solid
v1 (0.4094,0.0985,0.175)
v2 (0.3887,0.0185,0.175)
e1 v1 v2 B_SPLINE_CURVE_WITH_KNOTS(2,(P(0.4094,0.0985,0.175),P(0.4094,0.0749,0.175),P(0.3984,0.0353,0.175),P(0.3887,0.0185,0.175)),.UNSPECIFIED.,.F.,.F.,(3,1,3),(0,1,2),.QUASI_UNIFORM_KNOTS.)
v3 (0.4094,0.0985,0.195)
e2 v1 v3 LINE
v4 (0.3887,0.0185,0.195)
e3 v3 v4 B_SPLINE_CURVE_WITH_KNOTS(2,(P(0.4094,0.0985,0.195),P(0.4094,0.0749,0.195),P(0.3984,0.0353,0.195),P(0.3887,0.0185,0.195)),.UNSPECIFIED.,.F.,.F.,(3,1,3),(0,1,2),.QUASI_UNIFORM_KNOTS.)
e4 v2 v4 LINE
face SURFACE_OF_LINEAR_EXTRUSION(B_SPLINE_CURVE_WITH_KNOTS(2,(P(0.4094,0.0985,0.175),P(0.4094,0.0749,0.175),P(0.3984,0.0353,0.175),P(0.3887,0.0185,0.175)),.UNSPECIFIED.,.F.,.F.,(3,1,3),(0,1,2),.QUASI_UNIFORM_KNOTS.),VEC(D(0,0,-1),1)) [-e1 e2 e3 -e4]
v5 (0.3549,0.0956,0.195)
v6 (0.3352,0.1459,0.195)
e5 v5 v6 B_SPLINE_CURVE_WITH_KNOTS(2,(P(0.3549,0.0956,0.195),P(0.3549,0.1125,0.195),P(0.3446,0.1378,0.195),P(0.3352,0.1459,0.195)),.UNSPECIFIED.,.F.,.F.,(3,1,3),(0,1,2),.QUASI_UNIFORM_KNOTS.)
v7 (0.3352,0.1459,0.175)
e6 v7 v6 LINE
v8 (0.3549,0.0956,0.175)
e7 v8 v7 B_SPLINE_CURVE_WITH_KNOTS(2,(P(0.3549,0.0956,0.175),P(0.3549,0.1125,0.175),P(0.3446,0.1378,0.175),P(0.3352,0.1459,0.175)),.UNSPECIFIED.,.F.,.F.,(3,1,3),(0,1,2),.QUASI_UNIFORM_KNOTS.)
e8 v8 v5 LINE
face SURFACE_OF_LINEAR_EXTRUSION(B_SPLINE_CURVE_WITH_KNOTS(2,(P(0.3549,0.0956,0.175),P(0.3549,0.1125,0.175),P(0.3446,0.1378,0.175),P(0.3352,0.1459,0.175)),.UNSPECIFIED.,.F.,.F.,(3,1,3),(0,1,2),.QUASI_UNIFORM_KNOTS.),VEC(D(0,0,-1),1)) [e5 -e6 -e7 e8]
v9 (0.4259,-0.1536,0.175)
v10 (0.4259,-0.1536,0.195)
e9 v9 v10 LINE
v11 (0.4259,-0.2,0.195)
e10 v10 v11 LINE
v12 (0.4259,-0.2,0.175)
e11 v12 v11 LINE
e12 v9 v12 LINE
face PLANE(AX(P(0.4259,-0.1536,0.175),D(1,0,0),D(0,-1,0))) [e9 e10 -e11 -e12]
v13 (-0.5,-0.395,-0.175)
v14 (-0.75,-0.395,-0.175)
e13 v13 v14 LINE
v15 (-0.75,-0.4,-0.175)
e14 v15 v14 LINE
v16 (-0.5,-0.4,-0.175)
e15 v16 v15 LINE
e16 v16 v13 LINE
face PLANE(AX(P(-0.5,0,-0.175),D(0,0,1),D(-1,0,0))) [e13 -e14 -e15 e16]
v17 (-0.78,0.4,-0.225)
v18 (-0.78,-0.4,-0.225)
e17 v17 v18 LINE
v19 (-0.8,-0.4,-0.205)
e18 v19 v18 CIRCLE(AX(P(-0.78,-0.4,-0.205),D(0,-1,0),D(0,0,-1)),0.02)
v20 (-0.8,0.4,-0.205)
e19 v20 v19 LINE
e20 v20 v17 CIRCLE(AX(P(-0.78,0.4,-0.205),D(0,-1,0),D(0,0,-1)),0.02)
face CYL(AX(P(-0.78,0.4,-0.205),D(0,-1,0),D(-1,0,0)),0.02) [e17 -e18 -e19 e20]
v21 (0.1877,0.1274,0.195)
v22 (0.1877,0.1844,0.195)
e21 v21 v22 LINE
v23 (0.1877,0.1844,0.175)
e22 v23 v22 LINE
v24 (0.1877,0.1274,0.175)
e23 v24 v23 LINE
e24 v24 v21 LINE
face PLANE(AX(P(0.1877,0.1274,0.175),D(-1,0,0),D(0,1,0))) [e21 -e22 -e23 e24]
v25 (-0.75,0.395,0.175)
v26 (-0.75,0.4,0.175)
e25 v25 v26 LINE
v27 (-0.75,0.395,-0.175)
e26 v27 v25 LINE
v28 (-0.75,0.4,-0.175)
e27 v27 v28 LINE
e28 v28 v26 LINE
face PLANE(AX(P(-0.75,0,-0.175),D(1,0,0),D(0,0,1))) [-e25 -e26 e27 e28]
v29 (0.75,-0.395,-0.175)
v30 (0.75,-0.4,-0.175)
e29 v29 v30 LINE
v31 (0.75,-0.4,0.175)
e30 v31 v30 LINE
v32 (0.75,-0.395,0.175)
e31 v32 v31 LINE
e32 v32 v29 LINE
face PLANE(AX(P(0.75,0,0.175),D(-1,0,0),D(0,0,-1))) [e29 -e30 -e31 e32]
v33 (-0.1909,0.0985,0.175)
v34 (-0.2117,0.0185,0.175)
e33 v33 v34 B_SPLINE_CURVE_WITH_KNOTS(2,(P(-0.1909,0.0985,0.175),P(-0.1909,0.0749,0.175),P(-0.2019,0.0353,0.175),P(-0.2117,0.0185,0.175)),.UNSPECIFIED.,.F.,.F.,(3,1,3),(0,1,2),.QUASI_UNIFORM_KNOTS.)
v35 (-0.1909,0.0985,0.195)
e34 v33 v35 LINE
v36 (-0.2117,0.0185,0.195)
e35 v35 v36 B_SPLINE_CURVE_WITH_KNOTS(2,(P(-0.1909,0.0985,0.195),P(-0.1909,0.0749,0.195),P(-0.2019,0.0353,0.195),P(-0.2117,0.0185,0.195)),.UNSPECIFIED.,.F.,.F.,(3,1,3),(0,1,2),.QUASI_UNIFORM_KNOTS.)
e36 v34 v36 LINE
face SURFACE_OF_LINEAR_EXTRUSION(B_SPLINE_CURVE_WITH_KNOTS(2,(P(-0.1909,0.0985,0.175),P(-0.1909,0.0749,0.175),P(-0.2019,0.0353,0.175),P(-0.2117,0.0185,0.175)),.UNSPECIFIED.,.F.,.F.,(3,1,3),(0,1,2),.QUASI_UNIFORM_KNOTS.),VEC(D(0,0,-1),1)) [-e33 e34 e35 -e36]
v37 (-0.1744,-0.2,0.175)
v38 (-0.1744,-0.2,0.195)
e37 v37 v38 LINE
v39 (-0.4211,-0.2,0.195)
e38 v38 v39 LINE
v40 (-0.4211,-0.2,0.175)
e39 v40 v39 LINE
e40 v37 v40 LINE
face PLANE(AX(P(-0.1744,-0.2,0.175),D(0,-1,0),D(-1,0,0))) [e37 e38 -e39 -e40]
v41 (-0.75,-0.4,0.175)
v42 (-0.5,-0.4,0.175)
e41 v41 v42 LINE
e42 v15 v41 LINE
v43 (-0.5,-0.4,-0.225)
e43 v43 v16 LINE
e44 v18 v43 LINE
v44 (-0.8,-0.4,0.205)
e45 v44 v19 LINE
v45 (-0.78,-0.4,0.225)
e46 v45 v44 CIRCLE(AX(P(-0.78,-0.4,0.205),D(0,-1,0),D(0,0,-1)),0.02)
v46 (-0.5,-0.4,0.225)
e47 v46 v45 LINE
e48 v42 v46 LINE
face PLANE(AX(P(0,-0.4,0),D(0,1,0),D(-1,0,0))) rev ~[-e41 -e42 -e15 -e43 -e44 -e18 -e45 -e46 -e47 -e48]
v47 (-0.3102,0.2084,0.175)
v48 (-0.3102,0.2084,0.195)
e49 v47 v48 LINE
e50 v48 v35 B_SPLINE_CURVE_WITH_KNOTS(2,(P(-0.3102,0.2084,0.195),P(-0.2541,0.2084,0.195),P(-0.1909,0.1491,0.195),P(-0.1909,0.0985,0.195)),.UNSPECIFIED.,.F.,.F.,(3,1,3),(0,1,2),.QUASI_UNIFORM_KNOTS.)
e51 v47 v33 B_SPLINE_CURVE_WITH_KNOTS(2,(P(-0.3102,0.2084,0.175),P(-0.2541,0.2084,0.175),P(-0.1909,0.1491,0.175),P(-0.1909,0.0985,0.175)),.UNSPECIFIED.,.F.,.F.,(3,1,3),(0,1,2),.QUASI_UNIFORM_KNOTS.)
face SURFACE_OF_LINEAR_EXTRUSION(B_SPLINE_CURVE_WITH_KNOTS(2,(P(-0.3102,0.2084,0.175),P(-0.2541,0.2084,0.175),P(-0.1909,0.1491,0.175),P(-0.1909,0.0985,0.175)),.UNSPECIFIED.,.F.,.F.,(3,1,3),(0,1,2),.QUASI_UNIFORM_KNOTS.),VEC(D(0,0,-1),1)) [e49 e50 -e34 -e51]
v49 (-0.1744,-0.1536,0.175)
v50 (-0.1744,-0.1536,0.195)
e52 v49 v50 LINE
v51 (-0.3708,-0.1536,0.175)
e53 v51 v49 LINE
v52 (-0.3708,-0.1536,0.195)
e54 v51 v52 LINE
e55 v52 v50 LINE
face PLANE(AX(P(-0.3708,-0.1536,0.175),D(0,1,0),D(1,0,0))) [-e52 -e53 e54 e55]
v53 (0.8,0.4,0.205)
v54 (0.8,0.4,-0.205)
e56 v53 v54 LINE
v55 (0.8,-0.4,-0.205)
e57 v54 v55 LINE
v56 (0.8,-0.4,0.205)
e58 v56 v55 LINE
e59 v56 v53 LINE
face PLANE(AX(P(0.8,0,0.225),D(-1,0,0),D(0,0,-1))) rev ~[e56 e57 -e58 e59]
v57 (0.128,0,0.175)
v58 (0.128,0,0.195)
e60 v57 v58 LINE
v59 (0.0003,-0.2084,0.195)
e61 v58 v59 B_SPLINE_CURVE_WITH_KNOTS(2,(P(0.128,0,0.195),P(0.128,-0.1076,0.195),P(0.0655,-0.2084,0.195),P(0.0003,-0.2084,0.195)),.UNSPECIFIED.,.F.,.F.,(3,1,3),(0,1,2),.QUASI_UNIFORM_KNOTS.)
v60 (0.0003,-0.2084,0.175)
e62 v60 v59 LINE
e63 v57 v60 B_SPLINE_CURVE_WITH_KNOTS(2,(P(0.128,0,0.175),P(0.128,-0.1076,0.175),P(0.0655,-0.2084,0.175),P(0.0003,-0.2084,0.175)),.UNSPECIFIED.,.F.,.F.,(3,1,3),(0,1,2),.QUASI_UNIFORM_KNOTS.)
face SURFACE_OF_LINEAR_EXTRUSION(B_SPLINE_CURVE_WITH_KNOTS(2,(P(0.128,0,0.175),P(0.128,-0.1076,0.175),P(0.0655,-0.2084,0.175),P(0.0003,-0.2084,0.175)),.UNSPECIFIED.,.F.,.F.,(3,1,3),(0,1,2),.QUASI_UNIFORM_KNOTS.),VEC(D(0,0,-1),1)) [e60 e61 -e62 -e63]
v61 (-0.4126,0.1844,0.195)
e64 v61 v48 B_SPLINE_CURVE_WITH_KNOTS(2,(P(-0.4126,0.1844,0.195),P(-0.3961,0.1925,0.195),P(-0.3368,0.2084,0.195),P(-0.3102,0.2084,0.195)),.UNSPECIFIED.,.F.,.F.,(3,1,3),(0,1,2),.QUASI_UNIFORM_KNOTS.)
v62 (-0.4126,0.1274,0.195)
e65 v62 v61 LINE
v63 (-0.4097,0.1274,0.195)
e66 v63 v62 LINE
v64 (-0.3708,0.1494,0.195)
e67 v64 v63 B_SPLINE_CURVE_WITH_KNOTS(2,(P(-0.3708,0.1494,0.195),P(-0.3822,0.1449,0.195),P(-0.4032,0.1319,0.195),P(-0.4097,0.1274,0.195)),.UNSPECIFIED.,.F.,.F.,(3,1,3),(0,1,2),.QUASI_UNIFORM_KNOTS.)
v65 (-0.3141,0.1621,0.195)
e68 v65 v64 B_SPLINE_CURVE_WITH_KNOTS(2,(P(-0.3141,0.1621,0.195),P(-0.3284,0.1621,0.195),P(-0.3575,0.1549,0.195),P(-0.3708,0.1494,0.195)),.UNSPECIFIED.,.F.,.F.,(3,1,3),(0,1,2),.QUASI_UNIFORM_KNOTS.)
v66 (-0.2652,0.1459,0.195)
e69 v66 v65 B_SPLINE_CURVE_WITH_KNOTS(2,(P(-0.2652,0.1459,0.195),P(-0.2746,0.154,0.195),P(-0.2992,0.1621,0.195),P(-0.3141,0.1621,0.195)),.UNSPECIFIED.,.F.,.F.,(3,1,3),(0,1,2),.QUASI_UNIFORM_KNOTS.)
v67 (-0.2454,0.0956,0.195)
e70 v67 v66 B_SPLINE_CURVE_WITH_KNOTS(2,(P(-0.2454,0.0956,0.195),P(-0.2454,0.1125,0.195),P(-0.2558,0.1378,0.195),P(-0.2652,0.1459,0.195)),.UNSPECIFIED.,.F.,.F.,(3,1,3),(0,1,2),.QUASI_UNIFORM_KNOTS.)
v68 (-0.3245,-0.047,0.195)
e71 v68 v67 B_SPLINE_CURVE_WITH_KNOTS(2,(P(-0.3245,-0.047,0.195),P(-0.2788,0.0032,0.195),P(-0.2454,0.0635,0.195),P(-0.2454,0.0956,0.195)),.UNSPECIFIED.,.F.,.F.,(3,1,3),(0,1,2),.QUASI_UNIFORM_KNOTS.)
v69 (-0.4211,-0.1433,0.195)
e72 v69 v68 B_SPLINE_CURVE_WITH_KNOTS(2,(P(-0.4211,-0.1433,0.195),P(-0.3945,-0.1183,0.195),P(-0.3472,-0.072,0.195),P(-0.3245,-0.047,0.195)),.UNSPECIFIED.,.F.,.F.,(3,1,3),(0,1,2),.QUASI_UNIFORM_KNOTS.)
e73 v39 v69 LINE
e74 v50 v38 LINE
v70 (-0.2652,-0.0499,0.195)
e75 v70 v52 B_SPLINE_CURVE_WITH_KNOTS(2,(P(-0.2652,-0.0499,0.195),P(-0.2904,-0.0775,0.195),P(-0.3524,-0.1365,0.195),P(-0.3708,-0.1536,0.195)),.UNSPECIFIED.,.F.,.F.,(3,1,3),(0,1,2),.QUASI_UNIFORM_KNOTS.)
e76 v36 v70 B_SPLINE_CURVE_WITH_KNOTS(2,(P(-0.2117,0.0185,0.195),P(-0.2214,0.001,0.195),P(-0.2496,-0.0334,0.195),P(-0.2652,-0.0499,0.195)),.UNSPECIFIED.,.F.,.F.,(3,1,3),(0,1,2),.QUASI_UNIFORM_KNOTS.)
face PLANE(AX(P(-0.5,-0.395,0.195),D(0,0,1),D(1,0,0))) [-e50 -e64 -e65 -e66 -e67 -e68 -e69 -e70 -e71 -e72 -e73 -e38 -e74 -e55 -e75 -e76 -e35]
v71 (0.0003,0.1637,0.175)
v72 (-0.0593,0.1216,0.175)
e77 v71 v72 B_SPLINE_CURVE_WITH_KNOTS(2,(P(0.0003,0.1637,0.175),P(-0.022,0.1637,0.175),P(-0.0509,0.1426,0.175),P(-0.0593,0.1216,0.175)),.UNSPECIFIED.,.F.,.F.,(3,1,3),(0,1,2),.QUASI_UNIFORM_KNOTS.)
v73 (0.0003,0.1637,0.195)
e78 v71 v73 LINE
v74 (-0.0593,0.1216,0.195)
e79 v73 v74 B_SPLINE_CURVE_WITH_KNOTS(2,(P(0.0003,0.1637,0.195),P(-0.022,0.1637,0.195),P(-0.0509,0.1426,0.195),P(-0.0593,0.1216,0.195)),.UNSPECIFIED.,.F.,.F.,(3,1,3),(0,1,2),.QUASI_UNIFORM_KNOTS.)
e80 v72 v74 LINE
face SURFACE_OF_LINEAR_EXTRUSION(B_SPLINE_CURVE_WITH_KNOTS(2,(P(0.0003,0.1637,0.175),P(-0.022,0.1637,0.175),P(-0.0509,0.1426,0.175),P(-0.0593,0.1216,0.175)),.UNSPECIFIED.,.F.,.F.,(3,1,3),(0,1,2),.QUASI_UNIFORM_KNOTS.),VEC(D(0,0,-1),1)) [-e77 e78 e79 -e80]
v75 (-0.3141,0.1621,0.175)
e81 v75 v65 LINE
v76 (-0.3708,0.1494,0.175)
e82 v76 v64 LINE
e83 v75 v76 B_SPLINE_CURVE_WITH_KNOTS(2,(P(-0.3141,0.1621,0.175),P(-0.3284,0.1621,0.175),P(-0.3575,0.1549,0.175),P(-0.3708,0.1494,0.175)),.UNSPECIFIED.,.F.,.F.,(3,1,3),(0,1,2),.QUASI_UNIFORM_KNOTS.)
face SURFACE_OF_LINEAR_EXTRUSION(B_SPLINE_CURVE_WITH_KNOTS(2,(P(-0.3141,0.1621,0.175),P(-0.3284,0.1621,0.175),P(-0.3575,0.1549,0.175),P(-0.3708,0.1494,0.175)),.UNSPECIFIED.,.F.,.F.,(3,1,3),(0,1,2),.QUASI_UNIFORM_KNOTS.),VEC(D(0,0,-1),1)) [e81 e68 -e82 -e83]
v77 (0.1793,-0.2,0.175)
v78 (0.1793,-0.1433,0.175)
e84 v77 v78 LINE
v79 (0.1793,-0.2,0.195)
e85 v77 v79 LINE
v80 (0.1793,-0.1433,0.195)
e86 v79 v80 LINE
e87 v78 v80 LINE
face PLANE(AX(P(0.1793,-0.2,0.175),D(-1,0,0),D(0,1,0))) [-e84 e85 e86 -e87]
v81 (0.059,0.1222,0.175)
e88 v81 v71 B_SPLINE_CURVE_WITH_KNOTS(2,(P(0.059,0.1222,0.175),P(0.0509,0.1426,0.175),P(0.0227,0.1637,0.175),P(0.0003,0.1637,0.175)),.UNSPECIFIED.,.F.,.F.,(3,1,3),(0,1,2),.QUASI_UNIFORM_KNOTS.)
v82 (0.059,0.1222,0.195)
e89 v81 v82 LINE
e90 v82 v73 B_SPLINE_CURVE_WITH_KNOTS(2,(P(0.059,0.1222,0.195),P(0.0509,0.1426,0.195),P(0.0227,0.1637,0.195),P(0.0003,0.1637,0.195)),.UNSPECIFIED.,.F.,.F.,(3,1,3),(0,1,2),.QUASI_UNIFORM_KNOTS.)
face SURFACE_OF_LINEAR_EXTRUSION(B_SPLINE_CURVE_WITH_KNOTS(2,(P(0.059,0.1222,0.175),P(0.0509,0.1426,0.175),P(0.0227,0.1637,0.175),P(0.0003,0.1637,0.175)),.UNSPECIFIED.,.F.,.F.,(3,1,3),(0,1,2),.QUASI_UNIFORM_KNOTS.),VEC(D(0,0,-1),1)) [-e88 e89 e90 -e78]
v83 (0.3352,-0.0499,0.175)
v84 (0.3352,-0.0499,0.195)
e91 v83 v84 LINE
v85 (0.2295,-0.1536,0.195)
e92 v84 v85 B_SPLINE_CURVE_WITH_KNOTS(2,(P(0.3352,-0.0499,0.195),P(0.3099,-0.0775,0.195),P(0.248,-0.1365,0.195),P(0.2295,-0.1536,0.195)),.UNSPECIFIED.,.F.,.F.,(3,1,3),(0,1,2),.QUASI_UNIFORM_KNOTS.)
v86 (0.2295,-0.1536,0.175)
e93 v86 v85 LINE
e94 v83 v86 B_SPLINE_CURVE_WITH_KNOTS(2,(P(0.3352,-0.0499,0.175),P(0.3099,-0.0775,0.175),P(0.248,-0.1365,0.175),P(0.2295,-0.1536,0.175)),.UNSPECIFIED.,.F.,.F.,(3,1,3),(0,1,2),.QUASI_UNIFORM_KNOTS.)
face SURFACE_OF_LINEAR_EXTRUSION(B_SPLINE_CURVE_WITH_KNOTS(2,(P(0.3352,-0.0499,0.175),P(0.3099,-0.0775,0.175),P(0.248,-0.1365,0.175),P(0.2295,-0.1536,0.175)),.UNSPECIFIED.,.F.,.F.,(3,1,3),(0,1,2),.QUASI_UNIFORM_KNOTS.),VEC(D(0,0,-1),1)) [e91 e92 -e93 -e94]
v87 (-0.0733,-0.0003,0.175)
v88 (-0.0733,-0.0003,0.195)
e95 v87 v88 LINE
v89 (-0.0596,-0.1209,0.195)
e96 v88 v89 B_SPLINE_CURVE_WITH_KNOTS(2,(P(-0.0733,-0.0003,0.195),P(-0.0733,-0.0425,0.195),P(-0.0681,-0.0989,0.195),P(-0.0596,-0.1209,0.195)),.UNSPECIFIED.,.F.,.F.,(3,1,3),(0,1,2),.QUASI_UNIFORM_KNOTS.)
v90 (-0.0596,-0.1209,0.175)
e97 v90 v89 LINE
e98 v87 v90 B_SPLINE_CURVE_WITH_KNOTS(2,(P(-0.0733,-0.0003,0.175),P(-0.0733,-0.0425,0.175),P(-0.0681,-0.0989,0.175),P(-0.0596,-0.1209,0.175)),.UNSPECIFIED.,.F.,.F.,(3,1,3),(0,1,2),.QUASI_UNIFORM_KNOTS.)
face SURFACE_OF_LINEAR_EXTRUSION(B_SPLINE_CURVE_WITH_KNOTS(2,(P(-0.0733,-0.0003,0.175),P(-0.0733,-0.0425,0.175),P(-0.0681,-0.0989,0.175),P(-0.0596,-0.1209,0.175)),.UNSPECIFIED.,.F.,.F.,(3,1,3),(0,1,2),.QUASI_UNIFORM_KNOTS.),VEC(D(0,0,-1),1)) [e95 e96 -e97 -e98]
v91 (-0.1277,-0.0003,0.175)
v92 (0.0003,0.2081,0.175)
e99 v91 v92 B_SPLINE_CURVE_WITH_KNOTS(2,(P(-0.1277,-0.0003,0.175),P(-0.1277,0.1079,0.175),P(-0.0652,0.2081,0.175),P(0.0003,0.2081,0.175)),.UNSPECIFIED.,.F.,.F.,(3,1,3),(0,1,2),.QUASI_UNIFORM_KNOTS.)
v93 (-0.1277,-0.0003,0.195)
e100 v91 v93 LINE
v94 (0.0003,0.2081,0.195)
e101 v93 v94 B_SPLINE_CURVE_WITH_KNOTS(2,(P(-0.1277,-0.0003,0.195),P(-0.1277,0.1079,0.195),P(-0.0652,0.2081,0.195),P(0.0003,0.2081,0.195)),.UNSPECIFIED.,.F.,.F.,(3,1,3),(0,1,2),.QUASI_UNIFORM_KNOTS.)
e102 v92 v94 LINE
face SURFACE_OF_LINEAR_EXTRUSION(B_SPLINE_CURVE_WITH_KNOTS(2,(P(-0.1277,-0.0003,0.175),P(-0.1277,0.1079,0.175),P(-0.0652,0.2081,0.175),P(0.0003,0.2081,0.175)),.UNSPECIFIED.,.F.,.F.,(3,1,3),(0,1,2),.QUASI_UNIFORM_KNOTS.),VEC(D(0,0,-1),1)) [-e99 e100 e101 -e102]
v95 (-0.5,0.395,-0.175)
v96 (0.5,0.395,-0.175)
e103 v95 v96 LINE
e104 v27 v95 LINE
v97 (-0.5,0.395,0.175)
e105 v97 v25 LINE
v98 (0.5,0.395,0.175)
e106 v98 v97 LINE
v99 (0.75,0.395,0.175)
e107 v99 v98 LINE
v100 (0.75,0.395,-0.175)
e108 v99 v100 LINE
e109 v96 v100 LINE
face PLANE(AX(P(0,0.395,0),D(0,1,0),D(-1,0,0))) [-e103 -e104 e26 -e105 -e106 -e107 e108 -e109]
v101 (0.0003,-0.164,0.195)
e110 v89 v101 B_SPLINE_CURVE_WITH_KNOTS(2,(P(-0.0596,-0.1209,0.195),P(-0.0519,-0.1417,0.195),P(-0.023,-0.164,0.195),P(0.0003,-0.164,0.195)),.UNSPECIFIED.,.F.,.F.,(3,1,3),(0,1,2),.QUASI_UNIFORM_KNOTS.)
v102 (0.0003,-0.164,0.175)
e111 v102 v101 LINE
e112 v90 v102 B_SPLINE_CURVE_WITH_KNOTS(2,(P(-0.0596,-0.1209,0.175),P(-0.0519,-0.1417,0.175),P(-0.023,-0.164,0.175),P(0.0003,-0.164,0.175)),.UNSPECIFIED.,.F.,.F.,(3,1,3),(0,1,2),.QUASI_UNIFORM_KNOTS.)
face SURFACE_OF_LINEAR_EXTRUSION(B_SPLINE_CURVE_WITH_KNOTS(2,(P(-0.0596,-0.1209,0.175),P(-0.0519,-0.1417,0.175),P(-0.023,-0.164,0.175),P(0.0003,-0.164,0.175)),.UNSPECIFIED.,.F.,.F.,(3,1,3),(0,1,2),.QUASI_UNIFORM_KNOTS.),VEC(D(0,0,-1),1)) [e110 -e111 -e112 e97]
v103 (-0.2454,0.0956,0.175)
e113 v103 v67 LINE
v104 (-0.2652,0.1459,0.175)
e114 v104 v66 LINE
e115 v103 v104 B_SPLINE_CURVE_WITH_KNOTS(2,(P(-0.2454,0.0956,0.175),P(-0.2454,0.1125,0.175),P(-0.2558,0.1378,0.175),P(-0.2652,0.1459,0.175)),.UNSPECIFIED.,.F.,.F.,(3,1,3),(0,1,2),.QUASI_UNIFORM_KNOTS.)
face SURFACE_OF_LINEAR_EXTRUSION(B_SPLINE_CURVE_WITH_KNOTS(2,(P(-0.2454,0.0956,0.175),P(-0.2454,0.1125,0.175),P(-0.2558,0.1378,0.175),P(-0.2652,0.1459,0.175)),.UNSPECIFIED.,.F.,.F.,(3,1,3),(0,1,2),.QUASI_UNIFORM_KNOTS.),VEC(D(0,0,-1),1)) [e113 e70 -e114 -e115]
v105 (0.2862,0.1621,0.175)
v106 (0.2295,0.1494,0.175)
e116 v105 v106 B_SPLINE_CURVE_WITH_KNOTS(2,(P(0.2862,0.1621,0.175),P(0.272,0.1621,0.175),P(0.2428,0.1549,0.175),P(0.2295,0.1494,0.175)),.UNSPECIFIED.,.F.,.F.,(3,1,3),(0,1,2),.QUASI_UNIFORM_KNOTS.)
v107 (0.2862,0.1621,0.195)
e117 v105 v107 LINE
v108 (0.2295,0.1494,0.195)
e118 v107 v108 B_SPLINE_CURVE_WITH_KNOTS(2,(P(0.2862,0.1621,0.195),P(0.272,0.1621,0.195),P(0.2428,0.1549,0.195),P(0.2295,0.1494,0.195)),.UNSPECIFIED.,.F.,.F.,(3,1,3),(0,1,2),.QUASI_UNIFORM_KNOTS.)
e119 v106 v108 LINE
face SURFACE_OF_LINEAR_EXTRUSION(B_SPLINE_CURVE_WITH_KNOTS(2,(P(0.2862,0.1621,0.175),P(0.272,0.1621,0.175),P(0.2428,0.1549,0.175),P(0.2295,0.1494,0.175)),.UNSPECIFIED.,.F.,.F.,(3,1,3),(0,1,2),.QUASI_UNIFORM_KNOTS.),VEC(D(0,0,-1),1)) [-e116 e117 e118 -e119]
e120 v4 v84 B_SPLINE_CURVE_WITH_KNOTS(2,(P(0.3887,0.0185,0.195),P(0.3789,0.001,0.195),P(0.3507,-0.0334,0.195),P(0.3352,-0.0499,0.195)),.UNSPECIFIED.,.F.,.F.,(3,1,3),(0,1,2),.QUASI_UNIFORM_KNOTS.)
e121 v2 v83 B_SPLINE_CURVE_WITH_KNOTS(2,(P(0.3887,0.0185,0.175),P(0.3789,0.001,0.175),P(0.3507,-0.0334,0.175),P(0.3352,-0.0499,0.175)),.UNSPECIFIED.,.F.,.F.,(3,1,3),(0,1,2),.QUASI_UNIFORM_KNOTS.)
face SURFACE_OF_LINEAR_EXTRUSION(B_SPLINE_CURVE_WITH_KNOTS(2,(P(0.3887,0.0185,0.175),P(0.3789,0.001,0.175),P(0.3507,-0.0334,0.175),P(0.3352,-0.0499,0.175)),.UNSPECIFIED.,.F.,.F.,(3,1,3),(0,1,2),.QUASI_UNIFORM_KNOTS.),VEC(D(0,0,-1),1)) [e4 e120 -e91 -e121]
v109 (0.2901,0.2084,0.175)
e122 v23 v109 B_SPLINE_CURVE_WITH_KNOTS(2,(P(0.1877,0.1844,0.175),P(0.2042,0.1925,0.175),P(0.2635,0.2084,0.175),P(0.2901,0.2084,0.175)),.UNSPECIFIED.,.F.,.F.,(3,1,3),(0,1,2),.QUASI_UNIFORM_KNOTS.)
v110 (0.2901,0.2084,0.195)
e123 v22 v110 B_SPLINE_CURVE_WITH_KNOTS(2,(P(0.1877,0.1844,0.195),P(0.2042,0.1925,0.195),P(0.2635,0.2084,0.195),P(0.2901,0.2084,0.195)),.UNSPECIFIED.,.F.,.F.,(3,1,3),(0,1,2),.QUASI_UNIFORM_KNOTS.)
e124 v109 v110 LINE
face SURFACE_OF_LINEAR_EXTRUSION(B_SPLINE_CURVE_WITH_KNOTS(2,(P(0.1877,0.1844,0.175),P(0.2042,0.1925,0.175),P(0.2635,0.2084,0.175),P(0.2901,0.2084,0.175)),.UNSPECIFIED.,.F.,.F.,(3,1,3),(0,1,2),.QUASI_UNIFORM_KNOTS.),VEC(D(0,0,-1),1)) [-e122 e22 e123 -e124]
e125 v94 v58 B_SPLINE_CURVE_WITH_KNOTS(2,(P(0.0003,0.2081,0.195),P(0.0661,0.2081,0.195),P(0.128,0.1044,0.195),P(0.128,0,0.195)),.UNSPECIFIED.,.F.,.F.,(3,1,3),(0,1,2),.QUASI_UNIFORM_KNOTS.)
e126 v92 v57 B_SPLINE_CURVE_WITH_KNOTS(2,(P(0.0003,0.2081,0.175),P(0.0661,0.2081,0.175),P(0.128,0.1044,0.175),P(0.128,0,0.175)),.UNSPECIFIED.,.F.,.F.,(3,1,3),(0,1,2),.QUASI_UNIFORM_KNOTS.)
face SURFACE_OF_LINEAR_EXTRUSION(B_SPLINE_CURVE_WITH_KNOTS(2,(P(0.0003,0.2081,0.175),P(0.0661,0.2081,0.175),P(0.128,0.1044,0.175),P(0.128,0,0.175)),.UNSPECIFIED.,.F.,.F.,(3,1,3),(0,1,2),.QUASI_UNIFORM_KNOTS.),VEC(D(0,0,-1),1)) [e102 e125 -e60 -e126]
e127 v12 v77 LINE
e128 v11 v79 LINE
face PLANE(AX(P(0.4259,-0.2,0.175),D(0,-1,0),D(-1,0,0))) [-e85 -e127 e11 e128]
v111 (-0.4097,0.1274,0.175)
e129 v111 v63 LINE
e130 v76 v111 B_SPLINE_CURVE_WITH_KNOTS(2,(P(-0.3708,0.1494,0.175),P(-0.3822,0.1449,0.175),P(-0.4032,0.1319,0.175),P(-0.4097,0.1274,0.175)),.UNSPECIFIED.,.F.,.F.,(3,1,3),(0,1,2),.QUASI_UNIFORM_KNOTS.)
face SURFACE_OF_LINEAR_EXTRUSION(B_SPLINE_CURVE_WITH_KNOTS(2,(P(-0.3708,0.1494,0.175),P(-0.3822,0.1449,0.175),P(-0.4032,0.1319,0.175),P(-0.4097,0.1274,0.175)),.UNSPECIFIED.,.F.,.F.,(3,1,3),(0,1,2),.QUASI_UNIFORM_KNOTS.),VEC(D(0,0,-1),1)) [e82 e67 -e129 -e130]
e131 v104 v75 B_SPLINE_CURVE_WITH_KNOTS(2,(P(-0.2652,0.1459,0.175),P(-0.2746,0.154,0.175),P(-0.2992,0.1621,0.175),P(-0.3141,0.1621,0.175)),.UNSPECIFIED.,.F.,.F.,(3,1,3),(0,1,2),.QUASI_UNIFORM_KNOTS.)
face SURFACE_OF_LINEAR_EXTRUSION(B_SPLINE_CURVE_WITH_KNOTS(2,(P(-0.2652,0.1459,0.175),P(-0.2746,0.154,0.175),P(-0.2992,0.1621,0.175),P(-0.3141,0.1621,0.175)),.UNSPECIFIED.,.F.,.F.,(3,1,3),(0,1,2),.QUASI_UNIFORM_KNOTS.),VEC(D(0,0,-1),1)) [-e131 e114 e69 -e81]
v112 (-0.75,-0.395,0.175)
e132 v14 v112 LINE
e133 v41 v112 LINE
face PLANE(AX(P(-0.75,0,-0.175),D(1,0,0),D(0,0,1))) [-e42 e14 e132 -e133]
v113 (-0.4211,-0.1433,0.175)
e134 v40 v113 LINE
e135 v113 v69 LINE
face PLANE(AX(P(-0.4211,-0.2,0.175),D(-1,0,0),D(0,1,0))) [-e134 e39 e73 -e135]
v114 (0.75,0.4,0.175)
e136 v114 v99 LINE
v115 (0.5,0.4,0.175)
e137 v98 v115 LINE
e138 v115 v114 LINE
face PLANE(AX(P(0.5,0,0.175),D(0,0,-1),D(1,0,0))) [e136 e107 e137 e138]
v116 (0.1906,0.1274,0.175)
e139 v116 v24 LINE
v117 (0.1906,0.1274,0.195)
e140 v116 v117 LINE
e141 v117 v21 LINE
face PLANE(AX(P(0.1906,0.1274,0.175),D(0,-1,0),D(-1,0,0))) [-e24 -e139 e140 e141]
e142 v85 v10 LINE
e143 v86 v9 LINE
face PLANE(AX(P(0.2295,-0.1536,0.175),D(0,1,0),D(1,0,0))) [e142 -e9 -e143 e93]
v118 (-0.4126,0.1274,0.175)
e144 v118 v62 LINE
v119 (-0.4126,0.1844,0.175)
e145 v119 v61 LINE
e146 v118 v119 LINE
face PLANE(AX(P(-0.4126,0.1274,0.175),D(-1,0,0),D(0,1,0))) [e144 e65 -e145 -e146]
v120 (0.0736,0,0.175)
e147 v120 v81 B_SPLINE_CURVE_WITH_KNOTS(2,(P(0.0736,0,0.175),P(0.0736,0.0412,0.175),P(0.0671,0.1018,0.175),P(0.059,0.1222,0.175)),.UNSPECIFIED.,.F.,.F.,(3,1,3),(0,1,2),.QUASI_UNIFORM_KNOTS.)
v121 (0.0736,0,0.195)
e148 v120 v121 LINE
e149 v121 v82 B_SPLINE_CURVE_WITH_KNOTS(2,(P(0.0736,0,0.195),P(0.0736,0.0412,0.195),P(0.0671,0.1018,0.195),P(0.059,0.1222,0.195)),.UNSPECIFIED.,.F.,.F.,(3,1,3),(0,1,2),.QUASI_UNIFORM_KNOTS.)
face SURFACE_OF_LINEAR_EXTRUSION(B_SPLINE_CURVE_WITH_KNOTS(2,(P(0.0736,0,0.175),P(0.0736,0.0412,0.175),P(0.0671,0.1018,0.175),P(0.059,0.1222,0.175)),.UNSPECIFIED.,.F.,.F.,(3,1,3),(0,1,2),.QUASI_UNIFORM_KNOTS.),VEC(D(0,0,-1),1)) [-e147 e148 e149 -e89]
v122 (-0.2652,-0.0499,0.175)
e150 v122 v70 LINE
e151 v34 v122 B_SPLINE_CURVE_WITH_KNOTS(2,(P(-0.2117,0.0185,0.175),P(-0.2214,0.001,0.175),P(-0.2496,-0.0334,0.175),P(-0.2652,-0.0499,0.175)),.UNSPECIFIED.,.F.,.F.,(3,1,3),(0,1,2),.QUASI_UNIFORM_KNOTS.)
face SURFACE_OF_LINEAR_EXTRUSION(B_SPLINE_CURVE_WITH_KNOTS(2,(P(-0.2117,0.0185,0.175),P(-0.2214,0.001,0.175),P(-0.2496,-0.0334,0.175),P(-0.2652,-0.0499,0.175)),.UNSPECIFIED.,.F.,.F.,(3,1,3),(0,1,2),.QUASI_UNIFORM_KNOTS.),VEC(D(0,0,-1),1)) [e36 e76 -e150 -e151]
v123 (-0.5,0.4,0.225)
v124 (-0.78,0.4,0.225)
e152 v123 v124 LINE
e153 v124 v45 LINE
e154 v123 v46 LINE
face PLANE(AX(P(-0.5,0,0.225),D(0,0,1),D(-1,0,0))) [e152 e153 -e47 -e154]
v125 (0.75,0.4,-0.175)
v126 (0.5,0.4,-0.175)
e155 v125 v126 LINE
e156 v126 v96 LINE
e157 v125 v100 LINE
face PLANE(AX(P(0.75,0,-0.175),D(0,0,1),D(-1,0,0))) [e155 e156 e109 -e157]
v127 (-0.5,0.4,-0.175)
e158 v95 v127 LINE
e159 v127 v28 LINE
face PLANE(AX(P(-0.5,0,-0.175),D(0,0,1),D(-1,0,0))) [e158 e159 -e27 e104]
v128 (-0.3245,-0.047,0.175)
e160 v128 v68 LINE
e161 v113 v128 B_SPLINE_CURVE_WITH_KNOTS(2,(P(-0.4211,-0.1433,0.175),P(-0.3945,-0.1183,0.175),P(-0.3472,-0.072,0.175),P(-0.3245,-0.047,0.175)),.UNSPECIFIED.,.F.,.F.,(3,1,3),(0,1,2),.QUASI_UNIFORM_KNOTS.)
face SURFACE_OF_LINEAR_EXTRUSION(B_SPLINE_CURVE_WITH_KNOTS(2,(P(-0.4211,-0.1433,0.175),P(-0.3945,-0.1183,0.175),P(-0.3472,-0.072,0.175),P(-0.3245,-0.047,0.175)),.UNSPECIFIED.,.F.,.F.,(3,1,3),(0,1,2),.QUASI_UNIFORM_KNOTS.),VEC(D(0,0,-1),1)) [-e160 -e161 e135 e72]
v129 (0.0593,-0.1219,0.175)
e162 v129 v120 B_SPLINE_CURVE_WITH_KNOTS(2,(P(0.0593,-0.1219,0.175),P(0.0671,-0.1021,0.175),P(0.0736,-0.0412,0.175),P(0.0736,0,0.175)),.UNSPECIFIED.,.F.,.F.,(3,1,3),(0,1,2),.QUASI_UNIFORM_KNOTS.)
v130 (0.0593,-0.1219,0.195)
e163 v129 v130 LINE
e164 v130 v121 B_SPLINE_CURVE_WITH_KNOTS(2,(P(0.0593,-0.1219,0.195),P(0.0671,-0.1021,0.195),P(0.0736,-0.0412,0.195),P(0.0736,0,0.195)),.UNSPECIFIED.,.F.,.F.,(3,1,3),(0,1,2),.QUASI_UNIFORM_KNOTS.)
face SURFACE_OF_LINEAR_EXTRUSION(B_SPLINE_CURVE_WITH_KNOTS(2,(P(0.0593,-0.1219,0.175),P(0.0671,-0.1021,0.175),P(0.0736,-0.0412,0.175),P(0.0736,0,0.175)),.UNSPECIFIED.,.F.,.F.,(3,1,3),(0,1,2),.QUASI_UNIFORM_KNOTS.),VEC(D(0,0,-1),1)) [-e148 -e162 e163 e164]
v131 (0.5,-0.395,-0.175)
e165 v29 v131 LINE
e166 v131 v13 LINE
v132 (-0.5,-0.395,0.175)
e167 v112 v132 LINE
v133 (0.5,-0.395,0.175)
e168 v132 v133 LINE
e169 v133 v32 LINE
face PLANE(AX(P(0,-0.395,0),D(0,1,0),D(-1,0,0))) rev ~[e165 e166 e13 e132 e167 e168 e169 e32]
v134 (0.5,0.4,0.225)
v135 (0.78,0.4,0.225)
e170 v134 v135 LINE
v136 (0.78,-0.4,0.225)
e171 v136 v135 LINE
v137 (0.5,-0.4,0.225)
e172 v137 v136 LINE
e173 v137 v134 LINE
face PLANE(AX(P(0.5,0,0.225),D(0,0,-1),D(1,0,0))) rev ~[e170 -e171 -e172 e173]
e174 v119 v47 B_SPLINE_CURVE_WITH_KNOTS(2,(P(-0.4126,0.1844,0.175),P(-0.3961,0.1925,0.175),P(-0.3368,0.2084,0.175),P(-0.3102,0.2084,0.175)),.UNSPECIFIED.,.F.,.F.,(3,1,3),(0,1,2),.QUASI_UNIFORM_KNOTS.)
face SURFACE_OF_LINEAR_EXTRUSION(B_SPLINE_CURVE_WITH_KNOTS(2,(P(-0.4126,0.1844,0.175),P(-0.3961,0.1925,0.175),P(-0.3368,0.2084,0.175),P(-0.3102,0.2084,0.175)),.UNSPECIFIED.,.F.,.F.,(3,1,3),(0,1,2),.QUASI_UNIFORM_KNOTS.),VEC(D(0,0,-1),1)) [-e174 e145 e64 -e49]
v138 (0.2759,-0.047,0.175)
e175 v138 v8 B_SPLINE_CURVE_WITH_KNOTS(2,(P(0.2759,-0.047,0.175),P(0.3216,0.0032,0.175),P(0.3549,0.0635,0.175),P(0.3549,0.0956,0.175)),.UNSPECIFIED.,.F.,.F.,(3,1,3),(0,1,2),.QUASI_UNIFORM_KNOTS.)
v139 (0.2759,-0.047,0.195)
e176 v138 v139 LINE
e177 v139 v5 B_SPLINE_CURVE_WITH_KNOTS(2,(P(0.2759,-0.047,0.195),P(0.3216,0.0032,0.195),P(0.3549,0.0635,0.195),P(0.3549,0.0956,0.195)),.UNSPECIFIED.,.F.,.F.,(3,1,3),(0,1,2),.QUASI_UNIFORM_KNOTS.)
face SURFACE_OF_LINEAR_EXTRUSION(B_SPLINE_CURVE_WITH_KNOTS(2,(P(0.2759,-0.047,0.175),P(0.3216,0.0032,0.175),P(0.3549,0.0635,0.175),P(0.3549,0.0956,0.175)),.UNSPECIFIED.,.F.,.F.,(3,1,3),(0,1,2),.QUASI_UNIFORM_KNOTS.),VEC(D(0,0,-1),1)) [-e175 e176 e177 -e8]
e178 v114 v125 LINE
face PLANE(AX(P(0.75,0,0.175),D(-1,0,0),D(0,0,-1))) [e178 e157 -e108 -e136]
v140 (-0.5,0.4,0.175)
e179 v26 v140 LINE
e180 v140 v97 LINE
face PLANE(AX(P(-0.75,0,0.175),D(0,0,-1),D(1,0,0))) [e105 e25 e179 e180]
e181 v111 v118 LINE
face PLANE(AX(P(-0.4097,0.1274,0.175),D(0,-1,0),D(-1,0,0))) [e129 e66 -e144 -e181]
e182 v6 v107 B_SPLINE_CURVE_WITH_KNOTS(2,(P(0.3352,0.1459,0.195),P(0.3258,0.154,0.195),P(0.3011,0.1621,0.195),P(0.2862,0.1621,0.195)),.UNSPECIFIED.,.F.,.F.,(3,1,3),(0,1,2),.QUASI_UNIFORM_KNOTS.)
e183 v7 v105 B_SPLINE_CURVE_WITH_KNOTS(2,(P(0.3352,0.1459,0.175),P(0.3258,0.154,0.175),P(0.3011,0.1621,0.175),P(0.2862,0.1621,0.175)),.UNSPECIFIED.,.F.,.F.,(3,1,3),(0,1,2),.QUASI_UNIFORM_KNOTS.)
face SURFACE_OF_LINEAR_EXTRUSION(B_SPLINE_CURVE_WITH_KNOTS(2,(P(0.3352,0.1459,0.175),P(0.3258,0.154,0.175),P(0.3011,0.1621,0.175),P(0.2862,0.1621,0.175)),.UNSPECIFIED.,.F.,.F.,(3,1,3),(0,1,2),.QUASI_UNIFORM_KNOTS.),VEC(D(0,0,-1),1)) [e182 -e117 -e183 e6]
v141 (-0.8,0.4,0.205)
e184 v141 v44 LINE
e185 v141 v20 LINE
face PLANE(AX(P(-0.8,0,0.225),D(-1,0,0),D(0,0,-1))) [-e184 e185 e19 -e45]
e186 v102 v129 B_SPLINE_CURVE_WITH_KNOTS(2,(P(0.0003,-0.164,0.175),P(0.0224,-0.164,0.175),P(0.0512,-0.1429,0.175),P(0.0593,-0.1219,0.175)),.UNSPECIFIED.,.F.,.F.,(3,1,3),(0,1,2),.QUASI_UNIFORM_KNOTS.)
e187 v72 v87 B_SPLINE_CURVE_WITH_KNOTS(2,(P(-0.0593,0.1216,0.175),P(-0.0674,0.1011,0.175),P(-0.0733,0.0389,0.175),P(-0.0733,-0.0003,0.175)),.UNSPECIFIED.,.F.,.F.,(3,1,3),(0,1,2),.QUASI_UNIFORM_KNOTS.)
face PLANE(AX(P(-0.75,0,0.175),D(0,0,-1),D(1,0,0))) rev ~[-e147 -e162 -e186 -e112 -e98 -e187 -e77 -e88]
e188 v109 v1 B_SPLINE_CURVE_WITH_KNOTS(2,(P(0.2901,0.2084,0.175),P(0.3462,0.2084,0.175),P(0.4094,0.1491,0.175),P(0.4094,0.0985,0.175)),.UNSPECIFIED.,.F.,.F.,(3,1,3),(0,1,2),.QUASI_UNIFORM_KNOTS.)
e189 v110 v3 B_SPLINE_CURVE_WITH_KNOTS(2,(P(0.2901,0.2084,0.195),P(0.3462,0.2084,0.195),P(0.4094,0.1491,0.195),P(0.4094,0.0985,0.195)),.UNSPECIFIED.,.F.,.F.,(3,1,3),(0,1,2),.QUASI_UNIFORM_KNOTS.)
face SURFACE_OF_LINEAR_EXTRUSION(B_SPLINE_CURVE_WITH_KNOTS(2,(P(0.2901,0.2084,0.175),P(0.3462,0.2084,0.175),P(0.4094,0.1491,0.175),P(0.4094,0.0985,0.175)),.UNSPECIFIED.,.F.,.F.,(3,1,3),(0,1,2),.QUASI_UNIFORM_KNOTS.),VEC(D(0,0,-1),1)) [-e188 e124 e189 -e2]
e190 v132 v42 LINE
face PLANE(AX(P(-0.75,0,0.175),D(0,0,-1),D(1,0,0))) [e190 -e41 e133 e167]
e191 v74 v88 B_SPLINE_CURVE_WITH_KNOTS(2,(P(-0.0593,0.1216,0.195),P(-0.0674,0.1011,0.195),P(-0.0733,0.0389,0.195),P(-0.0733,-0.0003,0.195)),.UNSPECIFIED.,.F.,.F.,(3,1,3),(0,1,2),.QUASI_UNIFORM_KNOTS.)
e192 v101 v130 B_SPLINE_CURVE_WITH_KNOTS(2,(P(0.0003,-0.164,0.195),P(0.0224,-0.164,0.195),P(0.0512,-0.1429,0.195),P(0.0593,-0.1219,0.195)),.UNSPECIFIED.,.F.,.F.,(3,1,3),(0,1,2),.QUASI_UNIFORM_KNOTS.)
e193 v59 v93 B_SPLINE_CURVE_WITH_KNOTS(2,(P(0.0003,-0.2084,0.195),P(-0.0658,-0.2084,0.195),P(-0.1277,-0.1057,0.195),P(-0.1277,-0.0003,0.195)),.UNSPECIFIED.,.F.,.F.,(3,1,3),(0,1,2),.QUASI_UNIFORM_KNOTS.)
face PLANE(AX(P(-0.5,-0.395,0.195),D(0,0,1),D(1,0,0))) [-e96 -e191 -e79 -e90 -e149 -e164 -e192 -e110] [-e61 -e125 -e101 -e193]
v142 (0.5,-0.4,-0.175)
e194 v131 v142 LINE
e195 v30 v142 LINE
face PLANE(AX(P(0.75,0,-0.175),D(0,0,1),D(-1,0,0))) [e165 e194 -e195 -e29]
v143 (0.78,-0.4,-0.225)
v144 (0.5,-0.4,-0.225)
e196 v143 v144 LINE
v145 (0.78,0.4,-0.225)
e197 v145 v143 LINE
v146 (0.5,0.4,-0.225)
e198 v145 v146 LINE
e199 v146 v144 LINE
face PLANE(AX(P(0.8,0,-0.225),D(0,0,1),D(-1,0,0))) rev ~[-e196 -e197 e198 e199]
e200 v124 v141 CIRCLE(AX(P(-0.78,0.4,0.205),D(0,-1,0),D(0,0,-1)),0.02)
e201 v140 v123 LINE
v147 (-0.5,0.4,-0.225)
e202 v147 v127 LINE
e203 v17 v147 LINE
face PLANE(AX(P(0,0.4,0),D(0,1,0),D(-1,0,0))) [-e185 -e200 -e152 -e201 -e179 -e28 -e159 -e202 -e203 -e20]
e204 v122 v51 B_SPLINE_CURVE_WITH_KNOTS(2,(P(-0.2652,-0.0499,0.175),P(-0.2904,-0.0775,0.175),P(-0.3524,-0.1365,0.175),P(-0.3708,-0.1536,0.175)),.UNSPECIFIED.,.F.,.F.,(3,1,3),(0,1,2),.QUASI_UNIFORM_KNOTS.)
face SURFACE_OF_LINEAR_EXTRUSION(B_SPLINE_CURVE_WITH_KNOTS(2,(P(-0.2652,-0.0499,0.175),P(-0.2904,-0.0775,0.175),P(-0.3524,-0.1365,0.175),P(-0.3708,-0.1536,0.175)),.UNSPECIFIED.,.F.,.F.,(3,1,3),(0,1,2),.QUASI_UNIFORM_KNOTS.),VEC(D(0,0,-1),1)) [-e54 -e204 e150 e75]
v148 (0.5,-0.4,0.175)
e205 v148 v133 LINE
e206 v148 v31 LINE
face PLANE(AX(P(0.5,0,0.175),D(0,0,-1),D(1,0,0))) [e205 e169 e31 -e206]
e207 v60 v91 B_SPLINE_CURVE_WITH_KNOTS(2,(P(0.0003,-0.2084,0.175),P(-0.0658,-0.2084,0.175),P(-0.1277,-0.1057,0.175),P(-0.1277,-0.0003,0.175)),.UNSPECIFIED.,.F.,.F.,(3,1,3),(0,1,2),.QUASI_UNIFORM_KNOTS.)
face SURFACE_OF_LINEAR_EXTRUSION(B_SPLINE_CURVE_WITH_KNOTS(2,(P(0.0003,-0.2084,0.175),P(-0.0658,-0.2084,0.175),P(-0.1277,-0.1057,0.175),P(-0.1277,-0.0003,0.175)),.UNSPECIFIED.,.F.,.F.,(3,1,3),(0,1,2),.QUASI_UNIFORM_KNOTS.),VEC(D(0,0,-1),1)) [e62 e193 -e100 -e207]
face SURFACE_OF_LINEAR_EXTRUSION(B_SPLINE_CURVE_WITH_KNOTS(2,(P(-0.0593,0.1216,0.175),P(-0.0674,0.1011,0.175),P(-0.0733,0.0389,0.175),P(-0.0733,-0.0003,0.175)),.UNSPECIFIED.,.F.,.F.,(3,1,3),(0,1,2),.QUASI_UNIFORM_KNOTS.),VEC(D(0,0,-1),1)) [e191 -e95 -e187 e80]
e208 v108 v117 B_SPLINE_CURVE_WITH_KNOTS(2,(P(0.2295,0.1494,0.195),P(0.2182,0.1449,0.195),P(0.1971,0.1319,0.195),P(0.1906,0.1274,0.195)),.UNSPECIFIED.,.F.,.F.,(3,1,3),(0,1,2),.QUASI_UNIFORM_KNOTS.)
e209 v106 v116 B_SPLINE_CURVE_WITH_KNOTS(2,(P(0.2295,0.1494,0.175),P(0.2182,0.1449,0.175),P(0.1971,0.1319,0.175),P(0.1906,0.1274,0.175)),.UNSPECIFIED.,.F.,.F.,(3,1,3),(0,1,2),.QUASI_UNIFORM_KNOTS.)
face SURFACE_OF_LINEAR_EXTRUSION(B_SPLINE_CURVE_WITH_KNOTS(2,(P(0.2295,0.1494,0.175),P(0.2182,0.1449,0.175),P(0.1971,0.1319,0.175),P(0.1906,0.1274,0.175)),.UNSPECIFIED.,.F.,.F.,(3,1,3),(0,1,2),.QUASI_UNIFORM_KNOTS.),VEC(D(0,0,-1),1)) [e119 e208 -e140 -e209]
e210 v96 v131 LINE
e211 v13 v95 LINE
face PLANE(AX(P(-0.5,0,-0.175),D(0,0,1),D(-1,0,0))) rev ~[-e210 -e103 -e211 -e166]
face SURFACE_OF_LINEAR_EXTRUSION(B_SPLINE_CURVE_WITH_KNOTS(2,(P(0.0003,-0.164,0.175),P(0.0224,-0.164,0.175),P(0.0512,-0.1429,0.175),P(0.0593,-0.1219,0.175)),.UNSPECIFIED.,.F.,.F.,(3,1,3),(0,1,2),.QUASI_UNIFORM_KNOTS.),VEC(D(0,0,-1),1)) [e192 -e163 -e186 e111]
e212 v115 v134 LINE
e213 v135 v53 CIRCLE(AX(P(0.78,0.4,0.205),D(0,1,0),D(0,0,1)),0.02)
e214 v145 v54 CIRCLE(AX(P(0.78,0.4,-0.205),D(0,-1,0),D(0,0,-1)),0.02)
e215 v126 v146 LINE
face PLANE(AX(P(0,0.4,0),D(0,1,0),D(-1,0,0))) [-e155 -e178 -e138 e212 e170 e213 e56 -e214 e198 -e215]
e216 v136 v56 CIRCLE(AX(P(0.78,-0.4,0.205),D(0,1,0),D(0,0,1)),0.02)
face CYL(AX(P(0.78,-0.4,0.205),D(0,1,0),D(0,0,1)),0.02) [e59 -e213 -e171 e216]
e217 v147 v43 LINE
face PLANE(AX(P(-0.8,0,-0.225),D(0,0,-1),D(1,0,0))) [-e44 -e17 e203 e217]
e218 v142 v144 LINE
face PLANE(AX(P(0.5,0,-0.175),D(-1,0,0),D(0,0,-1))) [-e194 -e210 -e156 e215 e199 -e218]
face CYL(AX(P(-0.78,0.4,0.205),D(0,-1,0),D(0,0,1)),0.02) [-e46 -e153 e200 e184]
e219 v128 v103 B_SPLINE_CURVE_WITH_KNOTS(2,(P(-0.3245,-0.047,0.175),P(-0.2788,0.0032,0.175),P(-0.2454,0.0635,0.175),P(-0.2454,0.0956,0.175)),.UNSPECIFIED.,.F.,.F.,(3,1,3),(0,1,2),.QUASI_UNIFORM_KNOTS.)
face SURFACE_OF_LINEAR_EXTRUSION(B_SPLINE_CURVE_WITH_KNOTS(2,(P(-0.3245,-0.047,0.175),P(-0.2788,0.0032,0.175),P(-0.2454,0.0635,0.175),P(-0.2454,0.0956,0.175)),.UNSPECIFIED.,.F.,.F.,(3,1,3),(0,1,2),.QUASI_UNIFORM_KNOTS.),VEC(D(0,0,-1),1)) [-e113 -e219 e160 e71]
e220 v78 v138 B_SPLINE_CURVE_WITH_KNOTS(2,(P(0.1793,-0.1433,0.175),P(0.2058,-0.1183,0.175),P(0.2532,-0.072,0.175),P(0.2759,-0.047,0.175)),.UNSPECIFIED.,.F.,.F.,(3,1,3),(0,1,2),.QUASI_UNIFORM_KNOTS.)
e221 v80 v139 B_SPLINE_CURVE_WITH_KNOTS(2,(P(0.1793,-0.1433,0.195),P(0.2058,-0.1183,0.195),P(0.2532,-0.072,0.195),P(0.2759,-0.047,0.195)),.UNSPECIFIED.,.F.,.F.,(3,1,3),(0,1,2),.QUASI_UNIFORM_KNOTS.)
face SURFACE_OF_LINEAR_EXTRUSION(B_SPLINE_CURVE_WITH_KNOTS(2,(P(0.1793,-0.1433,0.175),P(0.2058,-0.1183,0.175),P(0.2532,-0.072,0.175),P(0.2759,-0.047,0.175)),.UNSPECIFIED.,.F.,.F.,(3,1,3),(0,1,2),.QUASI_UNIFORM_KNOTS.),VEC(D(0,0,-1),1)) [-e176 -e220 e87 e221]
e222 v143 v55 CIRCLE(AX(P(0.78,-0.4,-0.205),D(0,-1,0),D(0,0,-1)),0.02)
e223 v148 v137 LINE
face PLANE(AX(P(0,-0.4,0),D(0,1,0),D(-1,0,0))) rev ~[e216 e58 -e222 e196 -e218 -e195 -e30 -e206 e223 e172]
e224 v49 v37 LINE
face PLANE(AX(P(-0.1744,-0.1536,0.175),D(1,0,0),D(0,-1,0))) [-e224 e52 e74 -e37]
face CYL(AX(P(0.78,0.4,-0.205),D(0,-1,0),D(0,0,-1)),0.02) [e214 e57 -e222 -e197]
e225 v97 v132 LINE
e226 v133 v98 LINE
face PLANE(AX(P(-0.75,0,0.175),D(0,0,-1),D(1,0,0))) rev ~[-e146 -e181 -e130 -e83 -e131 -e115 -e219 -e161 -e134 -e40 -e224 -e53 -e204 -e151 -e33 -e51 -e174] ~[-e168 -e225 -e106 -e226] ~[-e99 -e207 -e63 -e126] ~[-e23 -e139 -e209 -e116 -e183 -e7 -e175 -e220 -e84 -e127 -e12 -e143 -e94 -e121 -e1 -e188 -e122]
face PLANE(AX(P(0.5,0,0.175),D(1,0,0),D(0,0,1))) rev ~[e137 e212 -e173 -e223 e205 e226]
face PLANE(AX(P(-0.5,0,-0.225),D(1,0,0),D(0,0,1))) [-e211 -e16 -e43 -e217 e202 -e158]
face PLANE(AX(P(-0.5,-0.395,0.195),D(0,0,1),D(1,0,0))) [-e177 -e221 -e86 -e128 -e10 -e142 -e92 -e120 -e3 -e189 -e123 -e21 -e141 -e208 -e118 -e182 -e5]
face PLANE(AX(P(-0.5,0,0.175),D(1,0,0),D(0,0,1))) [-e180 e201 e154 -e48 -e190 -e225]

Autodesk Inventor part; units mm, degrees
ref_plane "YZ Plane" through (0, 0, 0) normal (1, 0, 0) x (0, 1, 0)
ref_plane "XZ Plane" through (0, 0, 0) normal (0, 1, 0) x (-1, 0, 0)
ref_plane "XY Plane" through (0, 0, 0) normal (0, 0, 1) x (1, 0, 0)
sketch "Sketch1" plane through (0, 0, 0) normal (0, 1, 0) x (-1, 0, 0)
  line L0 (0.75, 0.175) -> (-0.75, 0.175)
  line L1 (-0.75, 0.175) -> (-0.75, -0.175)
  line L2 (-0.75, -0.175) -> (0.75, -0.175)
  line L3 (0.75, -0.175) -> (0.75, 0.175)
  line L4 (0.5, 0.175) -> (0.5, 0.225)
  line L5 (0.5, 0.225) -> (0.8, 0.225)
  line L6 (0.8, 0.225) -> (0.8, -0.225)
  line L7 (0.8, -0.225) -> (0.5, -0.225)
  line L8 (0.5, -0.225) -> (0.5, -0.175)
  line L9 (-0.5, 0.175) -> (-0.5, 0.225)
  line L10 (-0.5, 0.225) -> (-0.8, 0.225)
  line L11 (-0.8, 0.225) -> (-0.8, -0.225)
  line L12 (-0.8, -0.225) -> (-0.5, -0.225)
  line L13 (-0.5, -0.175) -> (-0.5, -0.225)
  line L14 (0.5, 0.175) -> (-0.5, 0.175)
  point P0 (0, 0)
  point P1 (0, 0.175)
  point P2 (0.75, 0)
  dimension "d0" = 1.6
  dimension "d1" = 0.05
  dimension "d2" = 0.05
  dimension "d3" = 0.45
  dimension "d4" = 0.3
extrude "Extrusion1" add sketch "Sketch1" along normal mid plane 0.8 contours L0 L4 L5 L6 L7 L8 L2 L3 | L0 L1 L2 L13 L12 L11 L10 L9
extrude "Extrusion2" add sketch "Sketch1" along normal mid plane 0.79 contours L3 L2 L1 L0
sketch "Sketch2" plane through (-0.5, -0.395, 0.175) normal (0, 0, 1) x (1, 0, 0)
  line L0 (0, 0) -> (0, 0.79) projected
  line L1 (1, 0) -> (0, 0) projected
  line L2 (1, 0) -> (1, 0.79) projected
  line L3 (0, 0.79) -> (1, 0.79) projected
  line L4 (0, 0.395) -> (1, 0.395) construction
  line L5 (0.3256, 0.195) -> (0.0789, 0.195)
  line L6 (0.0789, 0.195) -> (0.0789, 0.2517)
  spline S0 degree 2 poles (0.0789, 0.2517) (0.1055, 0.2767) (0.1528, 0.323) (0.1755, 0.348) knots 0 0 0 1 2 2 2
  spline S1 degree 2 poles (0.1755, 0.348) (0.2212, 0.3982) (0.2546, 0.4585) (0.2546, 0.4906) knots 0 0 0 1 2 2 2
  spline S2 degree 2 poles (0.2546, 0.4906) (0.2546, 0.5075) (0.2442, 0.5328) (0.2348, 0.5409) knots 0 0 0 1 2 2 2
  spline S3 degree 2 poles (0.2348, 0.5409) (0.2254, 0.549) (0.2008, 0.5571) (0.1859, 0.5571) knots 0 0 0 1 2 2 2
  spline S4 degree 2 poles (0.1859, 0.5571) (0.1716, 0.5571) (0.1425, 0.5499) (0.1292, 0.5444) knots 0 0 0 1 2 2 2
  spline S5 degree 2 poles (0.1292, 0.5444) (0.1178, 0.5399) (0.0968, 0.5269) (0.0903, 0.5224) knots 0 0 0 1 2 2 2
  line L7 (0.0903, 0.5224) -> (0.0874, 0.5224)
  line L8 (0.0874, 0.5224) -> (0.0874, 0.5794)
  spline S6 degree 2 poles (0.0874, 0.5794) (0.1039, 0.5875) (0.1632, 0.6034) (0.1898, 0.6034) knots 0 0 0 1 2 2 2
  spline S7 degree 2 poles (0.1898, 0.6034) (0.2459, 0.6034) (0.3091, 0.5441) (0.3091, 0.4935) knots 0 0 0 1 2 2 2
  spline S8 degree 2 poles (0.3091, 0.4935) (0.3091, 0.4699) (0.2981, 0.4303) (0.2883, 0.4135) knots 0 0 0 1 2 2 2
  spline S9 degree 2 poles (0.2883, 0.4135) (0.2786, 0.396) (0.2504, 0.3616) (0.2348, 0.3451) knots 0 0 0 1 2 2 2
  spline S10 degree 2 poles (0.2348, 0.3451) (0.2096, 0.3175) (0.1476, 0.2585) (0.1292, 0.2414) knots 0 0 0 1 2 2 2
  line L9 (0.1292, 0.2414) -> (0.3256, 0.2414)
  line L10 (0.3256, 0.2414) -> (0.3256, 0.195)
  spline S11 degree 2 poles (0.628, 0.395) (0.628, 0.2874) (0.5655, 0.1866) (0.5003, 0.1866) knots 0 0 0 1 2 2 2
  spline S12 degree 2 poles (0.5003, 0.1866) (0.4342, 0.1866) (0.3723, 0.2893) (0.3723, 0.3947) knots 0 0 0 1 2 2 2
  spline S13 degree 2 poles (0.3723, 0.3947) (0.3723, 0.5029) (0.4348, 0.6031) (0.5003, 0.6031) knots 0 0 0 1 2 2 2
  spline S14 degree 2 poles (0.5003, 0.6031) (0.5661, 0.6031) (0.628, 0.4994) (0.628, 0.395) knots 0 0 0 1 2 2 2
  spline S15 degree 2 poles (0.5593, 0.2731) (0.5671, 0.2929) (0.5736, 0.3538) (0.5736, 0.395) knots 0 0 0 1 2 2 2
  spline S16 degree 2 poles (0.5736, 0.395) (0.5736, 0.4362) (0.5671, 0.4968) (0.559, 0.5172) knots 0 0 0 1 2 2 2
  spline S17 degree 2 poles (0.559, 0.5172) (0.5509, 0.5376) (0.5227, 0.5587) (0.5003, 0.5587) knots 0 0 0 1 2 2 2
  spline S18 degree 2 poles (0.5003, 0.5587) (0.478, 0.5587) (0.4491, 0.5376) (0.4407, 0.5166) knots 0 0 0 1 2 2 2
  spline S19 degree 2 poles (0.4407, 0.5166) (0.4326, 0.4961) (0.4267, 0.4339) (0.4267, 0.3947) knots 0 0 0 1 2 2 2
  spline S20 degree 2 poles (0.4267, 0.3947) (0.4267, 0.3525) (0.4319, 0.2961) (0.4404, 0.2741) knots 0 0 0 1 2 2 2
  spline S21 degree 2 poles (0.4404, 0.2741) (0.4481, 0.2533) (0.477, 0.231) (0.5003, 0.231) knots 0 0 0 1 2 2 2
  spline S22 degree 2 poles (0.5003, 0.231) (0.5224, 0.231) (0.5512, 0.2521) (0.5593, 0.2731) knots 0 0 0 1 2 2 2
  line L11 (0.9259, 0.195) -> (0.6793, 0.195)
  line L12 (0.6793, 0.195) -> (0.6793, 0.2517)
  spline S23 degree 2 poles (0.6793, 0.2517) (0.7058, 0.2767) (0.7532, 0.323) (0.7759, 0.348) knots 0 0 0 1 2 2 2
  spline S24 degree 2 poles (0.7759, 0.348) (0.8216, 0.3982) (0.8549, 0.4585) (0.8549, 0.4906) knots 0 0 0 1 2 2 2
  spline S25 degree 2 poles (0.8549, 0.4906) (0.8549, 0.5075) (0.8446, 0.5328) (0.8352, 0.5409) knots 0 0 0 1 2 2 2
  spline S26 degree 2 poles (0.8352, 0.5409) (0.8258, 0.549) (0.8011, 0.5571) (0.7862, 0.5571) knots 0 0 0 1 2 2 2
  spline S27 degree 2 poles (0.7862, 0.5571) (0.772, 0.5571) (0.7428, 0.5499) (0.7295, 0.5444) knots 0 0 0 1 2 2 2
  spline S28 degree 2 poles (0.7295, 0.5444) (0.7182, 0.5399) (0.6971, 0.5269) (0.6906, 0.5224) knots 0 0 0 1 2 2 2
  line L13 (0.6906, 0.5224) -> (0.6877, 0.5224)
  line L14 (0.6877, 0.5224) -> (0.6877, 0.5794)
  spline S29 degree 2 poles (0.6877, 0.5794) (0.7042, 0.5875) (0.7635, 0.6034) (0.7901, 0.6034) knots 0 0 0 1 2 2 2
  spline S30 degree 2 poles (0.7901, 0.6034) (0.8462, 0.6034) (0.9094, 0.5441) (0.9094, 0.4935) knots 0 0 0 1 2 2 2
  spline S31 degree 2 poles (0.9094, 0.4935) (0.9094, 0.4699) (0.8984, 0.4303) (0.8887, 0.4135) knots 0 0 0 1 2 2 2
  spline S32 degree 2 poles (0.8887, 0.4135) (0.8789, 0.396) (0.8507, 0.3616) (0.8352, 0.3451) knots 0 0 0 1 2 2 2
  spline S33 degree 2 poles (0.8352, 0.3451) (0.8099, 0.3175) (0.748, 0.2585) (0.7295, 0.2414) knots 0 0 0 1 2 2 2
  line L15 (0.7295, 0.2414) -> (0.9259, 0.2414)
  line L16 (0.9259, 0.2414) -> (0.9259, 0.195)
  point P0 (0.5, 0.395)
extrude "Extrusion3" add sketch "Sketch2" along normal blind 0.02 contours L5 L6 S0 S1 S2 S3 S4 S5 L7 L8 S6 S7 S8 S9 S10 L9 L10 | S11 S12 S13 S14 | L11 L12 S23 S24 S25 S26 S27 S28 L13 L14 S29 S30 S31 S32 S33 L15 L16
fillet "Fillet1" radius 0.02 4 edges at (-0.8, 0, 0.225) (-0.8, 0, -0.225) (0.8, 0, 0.225) (0.8, 0, -0.225)
equation "\"d2\" = d1"
properties part number "21-1001" material "Copper"
